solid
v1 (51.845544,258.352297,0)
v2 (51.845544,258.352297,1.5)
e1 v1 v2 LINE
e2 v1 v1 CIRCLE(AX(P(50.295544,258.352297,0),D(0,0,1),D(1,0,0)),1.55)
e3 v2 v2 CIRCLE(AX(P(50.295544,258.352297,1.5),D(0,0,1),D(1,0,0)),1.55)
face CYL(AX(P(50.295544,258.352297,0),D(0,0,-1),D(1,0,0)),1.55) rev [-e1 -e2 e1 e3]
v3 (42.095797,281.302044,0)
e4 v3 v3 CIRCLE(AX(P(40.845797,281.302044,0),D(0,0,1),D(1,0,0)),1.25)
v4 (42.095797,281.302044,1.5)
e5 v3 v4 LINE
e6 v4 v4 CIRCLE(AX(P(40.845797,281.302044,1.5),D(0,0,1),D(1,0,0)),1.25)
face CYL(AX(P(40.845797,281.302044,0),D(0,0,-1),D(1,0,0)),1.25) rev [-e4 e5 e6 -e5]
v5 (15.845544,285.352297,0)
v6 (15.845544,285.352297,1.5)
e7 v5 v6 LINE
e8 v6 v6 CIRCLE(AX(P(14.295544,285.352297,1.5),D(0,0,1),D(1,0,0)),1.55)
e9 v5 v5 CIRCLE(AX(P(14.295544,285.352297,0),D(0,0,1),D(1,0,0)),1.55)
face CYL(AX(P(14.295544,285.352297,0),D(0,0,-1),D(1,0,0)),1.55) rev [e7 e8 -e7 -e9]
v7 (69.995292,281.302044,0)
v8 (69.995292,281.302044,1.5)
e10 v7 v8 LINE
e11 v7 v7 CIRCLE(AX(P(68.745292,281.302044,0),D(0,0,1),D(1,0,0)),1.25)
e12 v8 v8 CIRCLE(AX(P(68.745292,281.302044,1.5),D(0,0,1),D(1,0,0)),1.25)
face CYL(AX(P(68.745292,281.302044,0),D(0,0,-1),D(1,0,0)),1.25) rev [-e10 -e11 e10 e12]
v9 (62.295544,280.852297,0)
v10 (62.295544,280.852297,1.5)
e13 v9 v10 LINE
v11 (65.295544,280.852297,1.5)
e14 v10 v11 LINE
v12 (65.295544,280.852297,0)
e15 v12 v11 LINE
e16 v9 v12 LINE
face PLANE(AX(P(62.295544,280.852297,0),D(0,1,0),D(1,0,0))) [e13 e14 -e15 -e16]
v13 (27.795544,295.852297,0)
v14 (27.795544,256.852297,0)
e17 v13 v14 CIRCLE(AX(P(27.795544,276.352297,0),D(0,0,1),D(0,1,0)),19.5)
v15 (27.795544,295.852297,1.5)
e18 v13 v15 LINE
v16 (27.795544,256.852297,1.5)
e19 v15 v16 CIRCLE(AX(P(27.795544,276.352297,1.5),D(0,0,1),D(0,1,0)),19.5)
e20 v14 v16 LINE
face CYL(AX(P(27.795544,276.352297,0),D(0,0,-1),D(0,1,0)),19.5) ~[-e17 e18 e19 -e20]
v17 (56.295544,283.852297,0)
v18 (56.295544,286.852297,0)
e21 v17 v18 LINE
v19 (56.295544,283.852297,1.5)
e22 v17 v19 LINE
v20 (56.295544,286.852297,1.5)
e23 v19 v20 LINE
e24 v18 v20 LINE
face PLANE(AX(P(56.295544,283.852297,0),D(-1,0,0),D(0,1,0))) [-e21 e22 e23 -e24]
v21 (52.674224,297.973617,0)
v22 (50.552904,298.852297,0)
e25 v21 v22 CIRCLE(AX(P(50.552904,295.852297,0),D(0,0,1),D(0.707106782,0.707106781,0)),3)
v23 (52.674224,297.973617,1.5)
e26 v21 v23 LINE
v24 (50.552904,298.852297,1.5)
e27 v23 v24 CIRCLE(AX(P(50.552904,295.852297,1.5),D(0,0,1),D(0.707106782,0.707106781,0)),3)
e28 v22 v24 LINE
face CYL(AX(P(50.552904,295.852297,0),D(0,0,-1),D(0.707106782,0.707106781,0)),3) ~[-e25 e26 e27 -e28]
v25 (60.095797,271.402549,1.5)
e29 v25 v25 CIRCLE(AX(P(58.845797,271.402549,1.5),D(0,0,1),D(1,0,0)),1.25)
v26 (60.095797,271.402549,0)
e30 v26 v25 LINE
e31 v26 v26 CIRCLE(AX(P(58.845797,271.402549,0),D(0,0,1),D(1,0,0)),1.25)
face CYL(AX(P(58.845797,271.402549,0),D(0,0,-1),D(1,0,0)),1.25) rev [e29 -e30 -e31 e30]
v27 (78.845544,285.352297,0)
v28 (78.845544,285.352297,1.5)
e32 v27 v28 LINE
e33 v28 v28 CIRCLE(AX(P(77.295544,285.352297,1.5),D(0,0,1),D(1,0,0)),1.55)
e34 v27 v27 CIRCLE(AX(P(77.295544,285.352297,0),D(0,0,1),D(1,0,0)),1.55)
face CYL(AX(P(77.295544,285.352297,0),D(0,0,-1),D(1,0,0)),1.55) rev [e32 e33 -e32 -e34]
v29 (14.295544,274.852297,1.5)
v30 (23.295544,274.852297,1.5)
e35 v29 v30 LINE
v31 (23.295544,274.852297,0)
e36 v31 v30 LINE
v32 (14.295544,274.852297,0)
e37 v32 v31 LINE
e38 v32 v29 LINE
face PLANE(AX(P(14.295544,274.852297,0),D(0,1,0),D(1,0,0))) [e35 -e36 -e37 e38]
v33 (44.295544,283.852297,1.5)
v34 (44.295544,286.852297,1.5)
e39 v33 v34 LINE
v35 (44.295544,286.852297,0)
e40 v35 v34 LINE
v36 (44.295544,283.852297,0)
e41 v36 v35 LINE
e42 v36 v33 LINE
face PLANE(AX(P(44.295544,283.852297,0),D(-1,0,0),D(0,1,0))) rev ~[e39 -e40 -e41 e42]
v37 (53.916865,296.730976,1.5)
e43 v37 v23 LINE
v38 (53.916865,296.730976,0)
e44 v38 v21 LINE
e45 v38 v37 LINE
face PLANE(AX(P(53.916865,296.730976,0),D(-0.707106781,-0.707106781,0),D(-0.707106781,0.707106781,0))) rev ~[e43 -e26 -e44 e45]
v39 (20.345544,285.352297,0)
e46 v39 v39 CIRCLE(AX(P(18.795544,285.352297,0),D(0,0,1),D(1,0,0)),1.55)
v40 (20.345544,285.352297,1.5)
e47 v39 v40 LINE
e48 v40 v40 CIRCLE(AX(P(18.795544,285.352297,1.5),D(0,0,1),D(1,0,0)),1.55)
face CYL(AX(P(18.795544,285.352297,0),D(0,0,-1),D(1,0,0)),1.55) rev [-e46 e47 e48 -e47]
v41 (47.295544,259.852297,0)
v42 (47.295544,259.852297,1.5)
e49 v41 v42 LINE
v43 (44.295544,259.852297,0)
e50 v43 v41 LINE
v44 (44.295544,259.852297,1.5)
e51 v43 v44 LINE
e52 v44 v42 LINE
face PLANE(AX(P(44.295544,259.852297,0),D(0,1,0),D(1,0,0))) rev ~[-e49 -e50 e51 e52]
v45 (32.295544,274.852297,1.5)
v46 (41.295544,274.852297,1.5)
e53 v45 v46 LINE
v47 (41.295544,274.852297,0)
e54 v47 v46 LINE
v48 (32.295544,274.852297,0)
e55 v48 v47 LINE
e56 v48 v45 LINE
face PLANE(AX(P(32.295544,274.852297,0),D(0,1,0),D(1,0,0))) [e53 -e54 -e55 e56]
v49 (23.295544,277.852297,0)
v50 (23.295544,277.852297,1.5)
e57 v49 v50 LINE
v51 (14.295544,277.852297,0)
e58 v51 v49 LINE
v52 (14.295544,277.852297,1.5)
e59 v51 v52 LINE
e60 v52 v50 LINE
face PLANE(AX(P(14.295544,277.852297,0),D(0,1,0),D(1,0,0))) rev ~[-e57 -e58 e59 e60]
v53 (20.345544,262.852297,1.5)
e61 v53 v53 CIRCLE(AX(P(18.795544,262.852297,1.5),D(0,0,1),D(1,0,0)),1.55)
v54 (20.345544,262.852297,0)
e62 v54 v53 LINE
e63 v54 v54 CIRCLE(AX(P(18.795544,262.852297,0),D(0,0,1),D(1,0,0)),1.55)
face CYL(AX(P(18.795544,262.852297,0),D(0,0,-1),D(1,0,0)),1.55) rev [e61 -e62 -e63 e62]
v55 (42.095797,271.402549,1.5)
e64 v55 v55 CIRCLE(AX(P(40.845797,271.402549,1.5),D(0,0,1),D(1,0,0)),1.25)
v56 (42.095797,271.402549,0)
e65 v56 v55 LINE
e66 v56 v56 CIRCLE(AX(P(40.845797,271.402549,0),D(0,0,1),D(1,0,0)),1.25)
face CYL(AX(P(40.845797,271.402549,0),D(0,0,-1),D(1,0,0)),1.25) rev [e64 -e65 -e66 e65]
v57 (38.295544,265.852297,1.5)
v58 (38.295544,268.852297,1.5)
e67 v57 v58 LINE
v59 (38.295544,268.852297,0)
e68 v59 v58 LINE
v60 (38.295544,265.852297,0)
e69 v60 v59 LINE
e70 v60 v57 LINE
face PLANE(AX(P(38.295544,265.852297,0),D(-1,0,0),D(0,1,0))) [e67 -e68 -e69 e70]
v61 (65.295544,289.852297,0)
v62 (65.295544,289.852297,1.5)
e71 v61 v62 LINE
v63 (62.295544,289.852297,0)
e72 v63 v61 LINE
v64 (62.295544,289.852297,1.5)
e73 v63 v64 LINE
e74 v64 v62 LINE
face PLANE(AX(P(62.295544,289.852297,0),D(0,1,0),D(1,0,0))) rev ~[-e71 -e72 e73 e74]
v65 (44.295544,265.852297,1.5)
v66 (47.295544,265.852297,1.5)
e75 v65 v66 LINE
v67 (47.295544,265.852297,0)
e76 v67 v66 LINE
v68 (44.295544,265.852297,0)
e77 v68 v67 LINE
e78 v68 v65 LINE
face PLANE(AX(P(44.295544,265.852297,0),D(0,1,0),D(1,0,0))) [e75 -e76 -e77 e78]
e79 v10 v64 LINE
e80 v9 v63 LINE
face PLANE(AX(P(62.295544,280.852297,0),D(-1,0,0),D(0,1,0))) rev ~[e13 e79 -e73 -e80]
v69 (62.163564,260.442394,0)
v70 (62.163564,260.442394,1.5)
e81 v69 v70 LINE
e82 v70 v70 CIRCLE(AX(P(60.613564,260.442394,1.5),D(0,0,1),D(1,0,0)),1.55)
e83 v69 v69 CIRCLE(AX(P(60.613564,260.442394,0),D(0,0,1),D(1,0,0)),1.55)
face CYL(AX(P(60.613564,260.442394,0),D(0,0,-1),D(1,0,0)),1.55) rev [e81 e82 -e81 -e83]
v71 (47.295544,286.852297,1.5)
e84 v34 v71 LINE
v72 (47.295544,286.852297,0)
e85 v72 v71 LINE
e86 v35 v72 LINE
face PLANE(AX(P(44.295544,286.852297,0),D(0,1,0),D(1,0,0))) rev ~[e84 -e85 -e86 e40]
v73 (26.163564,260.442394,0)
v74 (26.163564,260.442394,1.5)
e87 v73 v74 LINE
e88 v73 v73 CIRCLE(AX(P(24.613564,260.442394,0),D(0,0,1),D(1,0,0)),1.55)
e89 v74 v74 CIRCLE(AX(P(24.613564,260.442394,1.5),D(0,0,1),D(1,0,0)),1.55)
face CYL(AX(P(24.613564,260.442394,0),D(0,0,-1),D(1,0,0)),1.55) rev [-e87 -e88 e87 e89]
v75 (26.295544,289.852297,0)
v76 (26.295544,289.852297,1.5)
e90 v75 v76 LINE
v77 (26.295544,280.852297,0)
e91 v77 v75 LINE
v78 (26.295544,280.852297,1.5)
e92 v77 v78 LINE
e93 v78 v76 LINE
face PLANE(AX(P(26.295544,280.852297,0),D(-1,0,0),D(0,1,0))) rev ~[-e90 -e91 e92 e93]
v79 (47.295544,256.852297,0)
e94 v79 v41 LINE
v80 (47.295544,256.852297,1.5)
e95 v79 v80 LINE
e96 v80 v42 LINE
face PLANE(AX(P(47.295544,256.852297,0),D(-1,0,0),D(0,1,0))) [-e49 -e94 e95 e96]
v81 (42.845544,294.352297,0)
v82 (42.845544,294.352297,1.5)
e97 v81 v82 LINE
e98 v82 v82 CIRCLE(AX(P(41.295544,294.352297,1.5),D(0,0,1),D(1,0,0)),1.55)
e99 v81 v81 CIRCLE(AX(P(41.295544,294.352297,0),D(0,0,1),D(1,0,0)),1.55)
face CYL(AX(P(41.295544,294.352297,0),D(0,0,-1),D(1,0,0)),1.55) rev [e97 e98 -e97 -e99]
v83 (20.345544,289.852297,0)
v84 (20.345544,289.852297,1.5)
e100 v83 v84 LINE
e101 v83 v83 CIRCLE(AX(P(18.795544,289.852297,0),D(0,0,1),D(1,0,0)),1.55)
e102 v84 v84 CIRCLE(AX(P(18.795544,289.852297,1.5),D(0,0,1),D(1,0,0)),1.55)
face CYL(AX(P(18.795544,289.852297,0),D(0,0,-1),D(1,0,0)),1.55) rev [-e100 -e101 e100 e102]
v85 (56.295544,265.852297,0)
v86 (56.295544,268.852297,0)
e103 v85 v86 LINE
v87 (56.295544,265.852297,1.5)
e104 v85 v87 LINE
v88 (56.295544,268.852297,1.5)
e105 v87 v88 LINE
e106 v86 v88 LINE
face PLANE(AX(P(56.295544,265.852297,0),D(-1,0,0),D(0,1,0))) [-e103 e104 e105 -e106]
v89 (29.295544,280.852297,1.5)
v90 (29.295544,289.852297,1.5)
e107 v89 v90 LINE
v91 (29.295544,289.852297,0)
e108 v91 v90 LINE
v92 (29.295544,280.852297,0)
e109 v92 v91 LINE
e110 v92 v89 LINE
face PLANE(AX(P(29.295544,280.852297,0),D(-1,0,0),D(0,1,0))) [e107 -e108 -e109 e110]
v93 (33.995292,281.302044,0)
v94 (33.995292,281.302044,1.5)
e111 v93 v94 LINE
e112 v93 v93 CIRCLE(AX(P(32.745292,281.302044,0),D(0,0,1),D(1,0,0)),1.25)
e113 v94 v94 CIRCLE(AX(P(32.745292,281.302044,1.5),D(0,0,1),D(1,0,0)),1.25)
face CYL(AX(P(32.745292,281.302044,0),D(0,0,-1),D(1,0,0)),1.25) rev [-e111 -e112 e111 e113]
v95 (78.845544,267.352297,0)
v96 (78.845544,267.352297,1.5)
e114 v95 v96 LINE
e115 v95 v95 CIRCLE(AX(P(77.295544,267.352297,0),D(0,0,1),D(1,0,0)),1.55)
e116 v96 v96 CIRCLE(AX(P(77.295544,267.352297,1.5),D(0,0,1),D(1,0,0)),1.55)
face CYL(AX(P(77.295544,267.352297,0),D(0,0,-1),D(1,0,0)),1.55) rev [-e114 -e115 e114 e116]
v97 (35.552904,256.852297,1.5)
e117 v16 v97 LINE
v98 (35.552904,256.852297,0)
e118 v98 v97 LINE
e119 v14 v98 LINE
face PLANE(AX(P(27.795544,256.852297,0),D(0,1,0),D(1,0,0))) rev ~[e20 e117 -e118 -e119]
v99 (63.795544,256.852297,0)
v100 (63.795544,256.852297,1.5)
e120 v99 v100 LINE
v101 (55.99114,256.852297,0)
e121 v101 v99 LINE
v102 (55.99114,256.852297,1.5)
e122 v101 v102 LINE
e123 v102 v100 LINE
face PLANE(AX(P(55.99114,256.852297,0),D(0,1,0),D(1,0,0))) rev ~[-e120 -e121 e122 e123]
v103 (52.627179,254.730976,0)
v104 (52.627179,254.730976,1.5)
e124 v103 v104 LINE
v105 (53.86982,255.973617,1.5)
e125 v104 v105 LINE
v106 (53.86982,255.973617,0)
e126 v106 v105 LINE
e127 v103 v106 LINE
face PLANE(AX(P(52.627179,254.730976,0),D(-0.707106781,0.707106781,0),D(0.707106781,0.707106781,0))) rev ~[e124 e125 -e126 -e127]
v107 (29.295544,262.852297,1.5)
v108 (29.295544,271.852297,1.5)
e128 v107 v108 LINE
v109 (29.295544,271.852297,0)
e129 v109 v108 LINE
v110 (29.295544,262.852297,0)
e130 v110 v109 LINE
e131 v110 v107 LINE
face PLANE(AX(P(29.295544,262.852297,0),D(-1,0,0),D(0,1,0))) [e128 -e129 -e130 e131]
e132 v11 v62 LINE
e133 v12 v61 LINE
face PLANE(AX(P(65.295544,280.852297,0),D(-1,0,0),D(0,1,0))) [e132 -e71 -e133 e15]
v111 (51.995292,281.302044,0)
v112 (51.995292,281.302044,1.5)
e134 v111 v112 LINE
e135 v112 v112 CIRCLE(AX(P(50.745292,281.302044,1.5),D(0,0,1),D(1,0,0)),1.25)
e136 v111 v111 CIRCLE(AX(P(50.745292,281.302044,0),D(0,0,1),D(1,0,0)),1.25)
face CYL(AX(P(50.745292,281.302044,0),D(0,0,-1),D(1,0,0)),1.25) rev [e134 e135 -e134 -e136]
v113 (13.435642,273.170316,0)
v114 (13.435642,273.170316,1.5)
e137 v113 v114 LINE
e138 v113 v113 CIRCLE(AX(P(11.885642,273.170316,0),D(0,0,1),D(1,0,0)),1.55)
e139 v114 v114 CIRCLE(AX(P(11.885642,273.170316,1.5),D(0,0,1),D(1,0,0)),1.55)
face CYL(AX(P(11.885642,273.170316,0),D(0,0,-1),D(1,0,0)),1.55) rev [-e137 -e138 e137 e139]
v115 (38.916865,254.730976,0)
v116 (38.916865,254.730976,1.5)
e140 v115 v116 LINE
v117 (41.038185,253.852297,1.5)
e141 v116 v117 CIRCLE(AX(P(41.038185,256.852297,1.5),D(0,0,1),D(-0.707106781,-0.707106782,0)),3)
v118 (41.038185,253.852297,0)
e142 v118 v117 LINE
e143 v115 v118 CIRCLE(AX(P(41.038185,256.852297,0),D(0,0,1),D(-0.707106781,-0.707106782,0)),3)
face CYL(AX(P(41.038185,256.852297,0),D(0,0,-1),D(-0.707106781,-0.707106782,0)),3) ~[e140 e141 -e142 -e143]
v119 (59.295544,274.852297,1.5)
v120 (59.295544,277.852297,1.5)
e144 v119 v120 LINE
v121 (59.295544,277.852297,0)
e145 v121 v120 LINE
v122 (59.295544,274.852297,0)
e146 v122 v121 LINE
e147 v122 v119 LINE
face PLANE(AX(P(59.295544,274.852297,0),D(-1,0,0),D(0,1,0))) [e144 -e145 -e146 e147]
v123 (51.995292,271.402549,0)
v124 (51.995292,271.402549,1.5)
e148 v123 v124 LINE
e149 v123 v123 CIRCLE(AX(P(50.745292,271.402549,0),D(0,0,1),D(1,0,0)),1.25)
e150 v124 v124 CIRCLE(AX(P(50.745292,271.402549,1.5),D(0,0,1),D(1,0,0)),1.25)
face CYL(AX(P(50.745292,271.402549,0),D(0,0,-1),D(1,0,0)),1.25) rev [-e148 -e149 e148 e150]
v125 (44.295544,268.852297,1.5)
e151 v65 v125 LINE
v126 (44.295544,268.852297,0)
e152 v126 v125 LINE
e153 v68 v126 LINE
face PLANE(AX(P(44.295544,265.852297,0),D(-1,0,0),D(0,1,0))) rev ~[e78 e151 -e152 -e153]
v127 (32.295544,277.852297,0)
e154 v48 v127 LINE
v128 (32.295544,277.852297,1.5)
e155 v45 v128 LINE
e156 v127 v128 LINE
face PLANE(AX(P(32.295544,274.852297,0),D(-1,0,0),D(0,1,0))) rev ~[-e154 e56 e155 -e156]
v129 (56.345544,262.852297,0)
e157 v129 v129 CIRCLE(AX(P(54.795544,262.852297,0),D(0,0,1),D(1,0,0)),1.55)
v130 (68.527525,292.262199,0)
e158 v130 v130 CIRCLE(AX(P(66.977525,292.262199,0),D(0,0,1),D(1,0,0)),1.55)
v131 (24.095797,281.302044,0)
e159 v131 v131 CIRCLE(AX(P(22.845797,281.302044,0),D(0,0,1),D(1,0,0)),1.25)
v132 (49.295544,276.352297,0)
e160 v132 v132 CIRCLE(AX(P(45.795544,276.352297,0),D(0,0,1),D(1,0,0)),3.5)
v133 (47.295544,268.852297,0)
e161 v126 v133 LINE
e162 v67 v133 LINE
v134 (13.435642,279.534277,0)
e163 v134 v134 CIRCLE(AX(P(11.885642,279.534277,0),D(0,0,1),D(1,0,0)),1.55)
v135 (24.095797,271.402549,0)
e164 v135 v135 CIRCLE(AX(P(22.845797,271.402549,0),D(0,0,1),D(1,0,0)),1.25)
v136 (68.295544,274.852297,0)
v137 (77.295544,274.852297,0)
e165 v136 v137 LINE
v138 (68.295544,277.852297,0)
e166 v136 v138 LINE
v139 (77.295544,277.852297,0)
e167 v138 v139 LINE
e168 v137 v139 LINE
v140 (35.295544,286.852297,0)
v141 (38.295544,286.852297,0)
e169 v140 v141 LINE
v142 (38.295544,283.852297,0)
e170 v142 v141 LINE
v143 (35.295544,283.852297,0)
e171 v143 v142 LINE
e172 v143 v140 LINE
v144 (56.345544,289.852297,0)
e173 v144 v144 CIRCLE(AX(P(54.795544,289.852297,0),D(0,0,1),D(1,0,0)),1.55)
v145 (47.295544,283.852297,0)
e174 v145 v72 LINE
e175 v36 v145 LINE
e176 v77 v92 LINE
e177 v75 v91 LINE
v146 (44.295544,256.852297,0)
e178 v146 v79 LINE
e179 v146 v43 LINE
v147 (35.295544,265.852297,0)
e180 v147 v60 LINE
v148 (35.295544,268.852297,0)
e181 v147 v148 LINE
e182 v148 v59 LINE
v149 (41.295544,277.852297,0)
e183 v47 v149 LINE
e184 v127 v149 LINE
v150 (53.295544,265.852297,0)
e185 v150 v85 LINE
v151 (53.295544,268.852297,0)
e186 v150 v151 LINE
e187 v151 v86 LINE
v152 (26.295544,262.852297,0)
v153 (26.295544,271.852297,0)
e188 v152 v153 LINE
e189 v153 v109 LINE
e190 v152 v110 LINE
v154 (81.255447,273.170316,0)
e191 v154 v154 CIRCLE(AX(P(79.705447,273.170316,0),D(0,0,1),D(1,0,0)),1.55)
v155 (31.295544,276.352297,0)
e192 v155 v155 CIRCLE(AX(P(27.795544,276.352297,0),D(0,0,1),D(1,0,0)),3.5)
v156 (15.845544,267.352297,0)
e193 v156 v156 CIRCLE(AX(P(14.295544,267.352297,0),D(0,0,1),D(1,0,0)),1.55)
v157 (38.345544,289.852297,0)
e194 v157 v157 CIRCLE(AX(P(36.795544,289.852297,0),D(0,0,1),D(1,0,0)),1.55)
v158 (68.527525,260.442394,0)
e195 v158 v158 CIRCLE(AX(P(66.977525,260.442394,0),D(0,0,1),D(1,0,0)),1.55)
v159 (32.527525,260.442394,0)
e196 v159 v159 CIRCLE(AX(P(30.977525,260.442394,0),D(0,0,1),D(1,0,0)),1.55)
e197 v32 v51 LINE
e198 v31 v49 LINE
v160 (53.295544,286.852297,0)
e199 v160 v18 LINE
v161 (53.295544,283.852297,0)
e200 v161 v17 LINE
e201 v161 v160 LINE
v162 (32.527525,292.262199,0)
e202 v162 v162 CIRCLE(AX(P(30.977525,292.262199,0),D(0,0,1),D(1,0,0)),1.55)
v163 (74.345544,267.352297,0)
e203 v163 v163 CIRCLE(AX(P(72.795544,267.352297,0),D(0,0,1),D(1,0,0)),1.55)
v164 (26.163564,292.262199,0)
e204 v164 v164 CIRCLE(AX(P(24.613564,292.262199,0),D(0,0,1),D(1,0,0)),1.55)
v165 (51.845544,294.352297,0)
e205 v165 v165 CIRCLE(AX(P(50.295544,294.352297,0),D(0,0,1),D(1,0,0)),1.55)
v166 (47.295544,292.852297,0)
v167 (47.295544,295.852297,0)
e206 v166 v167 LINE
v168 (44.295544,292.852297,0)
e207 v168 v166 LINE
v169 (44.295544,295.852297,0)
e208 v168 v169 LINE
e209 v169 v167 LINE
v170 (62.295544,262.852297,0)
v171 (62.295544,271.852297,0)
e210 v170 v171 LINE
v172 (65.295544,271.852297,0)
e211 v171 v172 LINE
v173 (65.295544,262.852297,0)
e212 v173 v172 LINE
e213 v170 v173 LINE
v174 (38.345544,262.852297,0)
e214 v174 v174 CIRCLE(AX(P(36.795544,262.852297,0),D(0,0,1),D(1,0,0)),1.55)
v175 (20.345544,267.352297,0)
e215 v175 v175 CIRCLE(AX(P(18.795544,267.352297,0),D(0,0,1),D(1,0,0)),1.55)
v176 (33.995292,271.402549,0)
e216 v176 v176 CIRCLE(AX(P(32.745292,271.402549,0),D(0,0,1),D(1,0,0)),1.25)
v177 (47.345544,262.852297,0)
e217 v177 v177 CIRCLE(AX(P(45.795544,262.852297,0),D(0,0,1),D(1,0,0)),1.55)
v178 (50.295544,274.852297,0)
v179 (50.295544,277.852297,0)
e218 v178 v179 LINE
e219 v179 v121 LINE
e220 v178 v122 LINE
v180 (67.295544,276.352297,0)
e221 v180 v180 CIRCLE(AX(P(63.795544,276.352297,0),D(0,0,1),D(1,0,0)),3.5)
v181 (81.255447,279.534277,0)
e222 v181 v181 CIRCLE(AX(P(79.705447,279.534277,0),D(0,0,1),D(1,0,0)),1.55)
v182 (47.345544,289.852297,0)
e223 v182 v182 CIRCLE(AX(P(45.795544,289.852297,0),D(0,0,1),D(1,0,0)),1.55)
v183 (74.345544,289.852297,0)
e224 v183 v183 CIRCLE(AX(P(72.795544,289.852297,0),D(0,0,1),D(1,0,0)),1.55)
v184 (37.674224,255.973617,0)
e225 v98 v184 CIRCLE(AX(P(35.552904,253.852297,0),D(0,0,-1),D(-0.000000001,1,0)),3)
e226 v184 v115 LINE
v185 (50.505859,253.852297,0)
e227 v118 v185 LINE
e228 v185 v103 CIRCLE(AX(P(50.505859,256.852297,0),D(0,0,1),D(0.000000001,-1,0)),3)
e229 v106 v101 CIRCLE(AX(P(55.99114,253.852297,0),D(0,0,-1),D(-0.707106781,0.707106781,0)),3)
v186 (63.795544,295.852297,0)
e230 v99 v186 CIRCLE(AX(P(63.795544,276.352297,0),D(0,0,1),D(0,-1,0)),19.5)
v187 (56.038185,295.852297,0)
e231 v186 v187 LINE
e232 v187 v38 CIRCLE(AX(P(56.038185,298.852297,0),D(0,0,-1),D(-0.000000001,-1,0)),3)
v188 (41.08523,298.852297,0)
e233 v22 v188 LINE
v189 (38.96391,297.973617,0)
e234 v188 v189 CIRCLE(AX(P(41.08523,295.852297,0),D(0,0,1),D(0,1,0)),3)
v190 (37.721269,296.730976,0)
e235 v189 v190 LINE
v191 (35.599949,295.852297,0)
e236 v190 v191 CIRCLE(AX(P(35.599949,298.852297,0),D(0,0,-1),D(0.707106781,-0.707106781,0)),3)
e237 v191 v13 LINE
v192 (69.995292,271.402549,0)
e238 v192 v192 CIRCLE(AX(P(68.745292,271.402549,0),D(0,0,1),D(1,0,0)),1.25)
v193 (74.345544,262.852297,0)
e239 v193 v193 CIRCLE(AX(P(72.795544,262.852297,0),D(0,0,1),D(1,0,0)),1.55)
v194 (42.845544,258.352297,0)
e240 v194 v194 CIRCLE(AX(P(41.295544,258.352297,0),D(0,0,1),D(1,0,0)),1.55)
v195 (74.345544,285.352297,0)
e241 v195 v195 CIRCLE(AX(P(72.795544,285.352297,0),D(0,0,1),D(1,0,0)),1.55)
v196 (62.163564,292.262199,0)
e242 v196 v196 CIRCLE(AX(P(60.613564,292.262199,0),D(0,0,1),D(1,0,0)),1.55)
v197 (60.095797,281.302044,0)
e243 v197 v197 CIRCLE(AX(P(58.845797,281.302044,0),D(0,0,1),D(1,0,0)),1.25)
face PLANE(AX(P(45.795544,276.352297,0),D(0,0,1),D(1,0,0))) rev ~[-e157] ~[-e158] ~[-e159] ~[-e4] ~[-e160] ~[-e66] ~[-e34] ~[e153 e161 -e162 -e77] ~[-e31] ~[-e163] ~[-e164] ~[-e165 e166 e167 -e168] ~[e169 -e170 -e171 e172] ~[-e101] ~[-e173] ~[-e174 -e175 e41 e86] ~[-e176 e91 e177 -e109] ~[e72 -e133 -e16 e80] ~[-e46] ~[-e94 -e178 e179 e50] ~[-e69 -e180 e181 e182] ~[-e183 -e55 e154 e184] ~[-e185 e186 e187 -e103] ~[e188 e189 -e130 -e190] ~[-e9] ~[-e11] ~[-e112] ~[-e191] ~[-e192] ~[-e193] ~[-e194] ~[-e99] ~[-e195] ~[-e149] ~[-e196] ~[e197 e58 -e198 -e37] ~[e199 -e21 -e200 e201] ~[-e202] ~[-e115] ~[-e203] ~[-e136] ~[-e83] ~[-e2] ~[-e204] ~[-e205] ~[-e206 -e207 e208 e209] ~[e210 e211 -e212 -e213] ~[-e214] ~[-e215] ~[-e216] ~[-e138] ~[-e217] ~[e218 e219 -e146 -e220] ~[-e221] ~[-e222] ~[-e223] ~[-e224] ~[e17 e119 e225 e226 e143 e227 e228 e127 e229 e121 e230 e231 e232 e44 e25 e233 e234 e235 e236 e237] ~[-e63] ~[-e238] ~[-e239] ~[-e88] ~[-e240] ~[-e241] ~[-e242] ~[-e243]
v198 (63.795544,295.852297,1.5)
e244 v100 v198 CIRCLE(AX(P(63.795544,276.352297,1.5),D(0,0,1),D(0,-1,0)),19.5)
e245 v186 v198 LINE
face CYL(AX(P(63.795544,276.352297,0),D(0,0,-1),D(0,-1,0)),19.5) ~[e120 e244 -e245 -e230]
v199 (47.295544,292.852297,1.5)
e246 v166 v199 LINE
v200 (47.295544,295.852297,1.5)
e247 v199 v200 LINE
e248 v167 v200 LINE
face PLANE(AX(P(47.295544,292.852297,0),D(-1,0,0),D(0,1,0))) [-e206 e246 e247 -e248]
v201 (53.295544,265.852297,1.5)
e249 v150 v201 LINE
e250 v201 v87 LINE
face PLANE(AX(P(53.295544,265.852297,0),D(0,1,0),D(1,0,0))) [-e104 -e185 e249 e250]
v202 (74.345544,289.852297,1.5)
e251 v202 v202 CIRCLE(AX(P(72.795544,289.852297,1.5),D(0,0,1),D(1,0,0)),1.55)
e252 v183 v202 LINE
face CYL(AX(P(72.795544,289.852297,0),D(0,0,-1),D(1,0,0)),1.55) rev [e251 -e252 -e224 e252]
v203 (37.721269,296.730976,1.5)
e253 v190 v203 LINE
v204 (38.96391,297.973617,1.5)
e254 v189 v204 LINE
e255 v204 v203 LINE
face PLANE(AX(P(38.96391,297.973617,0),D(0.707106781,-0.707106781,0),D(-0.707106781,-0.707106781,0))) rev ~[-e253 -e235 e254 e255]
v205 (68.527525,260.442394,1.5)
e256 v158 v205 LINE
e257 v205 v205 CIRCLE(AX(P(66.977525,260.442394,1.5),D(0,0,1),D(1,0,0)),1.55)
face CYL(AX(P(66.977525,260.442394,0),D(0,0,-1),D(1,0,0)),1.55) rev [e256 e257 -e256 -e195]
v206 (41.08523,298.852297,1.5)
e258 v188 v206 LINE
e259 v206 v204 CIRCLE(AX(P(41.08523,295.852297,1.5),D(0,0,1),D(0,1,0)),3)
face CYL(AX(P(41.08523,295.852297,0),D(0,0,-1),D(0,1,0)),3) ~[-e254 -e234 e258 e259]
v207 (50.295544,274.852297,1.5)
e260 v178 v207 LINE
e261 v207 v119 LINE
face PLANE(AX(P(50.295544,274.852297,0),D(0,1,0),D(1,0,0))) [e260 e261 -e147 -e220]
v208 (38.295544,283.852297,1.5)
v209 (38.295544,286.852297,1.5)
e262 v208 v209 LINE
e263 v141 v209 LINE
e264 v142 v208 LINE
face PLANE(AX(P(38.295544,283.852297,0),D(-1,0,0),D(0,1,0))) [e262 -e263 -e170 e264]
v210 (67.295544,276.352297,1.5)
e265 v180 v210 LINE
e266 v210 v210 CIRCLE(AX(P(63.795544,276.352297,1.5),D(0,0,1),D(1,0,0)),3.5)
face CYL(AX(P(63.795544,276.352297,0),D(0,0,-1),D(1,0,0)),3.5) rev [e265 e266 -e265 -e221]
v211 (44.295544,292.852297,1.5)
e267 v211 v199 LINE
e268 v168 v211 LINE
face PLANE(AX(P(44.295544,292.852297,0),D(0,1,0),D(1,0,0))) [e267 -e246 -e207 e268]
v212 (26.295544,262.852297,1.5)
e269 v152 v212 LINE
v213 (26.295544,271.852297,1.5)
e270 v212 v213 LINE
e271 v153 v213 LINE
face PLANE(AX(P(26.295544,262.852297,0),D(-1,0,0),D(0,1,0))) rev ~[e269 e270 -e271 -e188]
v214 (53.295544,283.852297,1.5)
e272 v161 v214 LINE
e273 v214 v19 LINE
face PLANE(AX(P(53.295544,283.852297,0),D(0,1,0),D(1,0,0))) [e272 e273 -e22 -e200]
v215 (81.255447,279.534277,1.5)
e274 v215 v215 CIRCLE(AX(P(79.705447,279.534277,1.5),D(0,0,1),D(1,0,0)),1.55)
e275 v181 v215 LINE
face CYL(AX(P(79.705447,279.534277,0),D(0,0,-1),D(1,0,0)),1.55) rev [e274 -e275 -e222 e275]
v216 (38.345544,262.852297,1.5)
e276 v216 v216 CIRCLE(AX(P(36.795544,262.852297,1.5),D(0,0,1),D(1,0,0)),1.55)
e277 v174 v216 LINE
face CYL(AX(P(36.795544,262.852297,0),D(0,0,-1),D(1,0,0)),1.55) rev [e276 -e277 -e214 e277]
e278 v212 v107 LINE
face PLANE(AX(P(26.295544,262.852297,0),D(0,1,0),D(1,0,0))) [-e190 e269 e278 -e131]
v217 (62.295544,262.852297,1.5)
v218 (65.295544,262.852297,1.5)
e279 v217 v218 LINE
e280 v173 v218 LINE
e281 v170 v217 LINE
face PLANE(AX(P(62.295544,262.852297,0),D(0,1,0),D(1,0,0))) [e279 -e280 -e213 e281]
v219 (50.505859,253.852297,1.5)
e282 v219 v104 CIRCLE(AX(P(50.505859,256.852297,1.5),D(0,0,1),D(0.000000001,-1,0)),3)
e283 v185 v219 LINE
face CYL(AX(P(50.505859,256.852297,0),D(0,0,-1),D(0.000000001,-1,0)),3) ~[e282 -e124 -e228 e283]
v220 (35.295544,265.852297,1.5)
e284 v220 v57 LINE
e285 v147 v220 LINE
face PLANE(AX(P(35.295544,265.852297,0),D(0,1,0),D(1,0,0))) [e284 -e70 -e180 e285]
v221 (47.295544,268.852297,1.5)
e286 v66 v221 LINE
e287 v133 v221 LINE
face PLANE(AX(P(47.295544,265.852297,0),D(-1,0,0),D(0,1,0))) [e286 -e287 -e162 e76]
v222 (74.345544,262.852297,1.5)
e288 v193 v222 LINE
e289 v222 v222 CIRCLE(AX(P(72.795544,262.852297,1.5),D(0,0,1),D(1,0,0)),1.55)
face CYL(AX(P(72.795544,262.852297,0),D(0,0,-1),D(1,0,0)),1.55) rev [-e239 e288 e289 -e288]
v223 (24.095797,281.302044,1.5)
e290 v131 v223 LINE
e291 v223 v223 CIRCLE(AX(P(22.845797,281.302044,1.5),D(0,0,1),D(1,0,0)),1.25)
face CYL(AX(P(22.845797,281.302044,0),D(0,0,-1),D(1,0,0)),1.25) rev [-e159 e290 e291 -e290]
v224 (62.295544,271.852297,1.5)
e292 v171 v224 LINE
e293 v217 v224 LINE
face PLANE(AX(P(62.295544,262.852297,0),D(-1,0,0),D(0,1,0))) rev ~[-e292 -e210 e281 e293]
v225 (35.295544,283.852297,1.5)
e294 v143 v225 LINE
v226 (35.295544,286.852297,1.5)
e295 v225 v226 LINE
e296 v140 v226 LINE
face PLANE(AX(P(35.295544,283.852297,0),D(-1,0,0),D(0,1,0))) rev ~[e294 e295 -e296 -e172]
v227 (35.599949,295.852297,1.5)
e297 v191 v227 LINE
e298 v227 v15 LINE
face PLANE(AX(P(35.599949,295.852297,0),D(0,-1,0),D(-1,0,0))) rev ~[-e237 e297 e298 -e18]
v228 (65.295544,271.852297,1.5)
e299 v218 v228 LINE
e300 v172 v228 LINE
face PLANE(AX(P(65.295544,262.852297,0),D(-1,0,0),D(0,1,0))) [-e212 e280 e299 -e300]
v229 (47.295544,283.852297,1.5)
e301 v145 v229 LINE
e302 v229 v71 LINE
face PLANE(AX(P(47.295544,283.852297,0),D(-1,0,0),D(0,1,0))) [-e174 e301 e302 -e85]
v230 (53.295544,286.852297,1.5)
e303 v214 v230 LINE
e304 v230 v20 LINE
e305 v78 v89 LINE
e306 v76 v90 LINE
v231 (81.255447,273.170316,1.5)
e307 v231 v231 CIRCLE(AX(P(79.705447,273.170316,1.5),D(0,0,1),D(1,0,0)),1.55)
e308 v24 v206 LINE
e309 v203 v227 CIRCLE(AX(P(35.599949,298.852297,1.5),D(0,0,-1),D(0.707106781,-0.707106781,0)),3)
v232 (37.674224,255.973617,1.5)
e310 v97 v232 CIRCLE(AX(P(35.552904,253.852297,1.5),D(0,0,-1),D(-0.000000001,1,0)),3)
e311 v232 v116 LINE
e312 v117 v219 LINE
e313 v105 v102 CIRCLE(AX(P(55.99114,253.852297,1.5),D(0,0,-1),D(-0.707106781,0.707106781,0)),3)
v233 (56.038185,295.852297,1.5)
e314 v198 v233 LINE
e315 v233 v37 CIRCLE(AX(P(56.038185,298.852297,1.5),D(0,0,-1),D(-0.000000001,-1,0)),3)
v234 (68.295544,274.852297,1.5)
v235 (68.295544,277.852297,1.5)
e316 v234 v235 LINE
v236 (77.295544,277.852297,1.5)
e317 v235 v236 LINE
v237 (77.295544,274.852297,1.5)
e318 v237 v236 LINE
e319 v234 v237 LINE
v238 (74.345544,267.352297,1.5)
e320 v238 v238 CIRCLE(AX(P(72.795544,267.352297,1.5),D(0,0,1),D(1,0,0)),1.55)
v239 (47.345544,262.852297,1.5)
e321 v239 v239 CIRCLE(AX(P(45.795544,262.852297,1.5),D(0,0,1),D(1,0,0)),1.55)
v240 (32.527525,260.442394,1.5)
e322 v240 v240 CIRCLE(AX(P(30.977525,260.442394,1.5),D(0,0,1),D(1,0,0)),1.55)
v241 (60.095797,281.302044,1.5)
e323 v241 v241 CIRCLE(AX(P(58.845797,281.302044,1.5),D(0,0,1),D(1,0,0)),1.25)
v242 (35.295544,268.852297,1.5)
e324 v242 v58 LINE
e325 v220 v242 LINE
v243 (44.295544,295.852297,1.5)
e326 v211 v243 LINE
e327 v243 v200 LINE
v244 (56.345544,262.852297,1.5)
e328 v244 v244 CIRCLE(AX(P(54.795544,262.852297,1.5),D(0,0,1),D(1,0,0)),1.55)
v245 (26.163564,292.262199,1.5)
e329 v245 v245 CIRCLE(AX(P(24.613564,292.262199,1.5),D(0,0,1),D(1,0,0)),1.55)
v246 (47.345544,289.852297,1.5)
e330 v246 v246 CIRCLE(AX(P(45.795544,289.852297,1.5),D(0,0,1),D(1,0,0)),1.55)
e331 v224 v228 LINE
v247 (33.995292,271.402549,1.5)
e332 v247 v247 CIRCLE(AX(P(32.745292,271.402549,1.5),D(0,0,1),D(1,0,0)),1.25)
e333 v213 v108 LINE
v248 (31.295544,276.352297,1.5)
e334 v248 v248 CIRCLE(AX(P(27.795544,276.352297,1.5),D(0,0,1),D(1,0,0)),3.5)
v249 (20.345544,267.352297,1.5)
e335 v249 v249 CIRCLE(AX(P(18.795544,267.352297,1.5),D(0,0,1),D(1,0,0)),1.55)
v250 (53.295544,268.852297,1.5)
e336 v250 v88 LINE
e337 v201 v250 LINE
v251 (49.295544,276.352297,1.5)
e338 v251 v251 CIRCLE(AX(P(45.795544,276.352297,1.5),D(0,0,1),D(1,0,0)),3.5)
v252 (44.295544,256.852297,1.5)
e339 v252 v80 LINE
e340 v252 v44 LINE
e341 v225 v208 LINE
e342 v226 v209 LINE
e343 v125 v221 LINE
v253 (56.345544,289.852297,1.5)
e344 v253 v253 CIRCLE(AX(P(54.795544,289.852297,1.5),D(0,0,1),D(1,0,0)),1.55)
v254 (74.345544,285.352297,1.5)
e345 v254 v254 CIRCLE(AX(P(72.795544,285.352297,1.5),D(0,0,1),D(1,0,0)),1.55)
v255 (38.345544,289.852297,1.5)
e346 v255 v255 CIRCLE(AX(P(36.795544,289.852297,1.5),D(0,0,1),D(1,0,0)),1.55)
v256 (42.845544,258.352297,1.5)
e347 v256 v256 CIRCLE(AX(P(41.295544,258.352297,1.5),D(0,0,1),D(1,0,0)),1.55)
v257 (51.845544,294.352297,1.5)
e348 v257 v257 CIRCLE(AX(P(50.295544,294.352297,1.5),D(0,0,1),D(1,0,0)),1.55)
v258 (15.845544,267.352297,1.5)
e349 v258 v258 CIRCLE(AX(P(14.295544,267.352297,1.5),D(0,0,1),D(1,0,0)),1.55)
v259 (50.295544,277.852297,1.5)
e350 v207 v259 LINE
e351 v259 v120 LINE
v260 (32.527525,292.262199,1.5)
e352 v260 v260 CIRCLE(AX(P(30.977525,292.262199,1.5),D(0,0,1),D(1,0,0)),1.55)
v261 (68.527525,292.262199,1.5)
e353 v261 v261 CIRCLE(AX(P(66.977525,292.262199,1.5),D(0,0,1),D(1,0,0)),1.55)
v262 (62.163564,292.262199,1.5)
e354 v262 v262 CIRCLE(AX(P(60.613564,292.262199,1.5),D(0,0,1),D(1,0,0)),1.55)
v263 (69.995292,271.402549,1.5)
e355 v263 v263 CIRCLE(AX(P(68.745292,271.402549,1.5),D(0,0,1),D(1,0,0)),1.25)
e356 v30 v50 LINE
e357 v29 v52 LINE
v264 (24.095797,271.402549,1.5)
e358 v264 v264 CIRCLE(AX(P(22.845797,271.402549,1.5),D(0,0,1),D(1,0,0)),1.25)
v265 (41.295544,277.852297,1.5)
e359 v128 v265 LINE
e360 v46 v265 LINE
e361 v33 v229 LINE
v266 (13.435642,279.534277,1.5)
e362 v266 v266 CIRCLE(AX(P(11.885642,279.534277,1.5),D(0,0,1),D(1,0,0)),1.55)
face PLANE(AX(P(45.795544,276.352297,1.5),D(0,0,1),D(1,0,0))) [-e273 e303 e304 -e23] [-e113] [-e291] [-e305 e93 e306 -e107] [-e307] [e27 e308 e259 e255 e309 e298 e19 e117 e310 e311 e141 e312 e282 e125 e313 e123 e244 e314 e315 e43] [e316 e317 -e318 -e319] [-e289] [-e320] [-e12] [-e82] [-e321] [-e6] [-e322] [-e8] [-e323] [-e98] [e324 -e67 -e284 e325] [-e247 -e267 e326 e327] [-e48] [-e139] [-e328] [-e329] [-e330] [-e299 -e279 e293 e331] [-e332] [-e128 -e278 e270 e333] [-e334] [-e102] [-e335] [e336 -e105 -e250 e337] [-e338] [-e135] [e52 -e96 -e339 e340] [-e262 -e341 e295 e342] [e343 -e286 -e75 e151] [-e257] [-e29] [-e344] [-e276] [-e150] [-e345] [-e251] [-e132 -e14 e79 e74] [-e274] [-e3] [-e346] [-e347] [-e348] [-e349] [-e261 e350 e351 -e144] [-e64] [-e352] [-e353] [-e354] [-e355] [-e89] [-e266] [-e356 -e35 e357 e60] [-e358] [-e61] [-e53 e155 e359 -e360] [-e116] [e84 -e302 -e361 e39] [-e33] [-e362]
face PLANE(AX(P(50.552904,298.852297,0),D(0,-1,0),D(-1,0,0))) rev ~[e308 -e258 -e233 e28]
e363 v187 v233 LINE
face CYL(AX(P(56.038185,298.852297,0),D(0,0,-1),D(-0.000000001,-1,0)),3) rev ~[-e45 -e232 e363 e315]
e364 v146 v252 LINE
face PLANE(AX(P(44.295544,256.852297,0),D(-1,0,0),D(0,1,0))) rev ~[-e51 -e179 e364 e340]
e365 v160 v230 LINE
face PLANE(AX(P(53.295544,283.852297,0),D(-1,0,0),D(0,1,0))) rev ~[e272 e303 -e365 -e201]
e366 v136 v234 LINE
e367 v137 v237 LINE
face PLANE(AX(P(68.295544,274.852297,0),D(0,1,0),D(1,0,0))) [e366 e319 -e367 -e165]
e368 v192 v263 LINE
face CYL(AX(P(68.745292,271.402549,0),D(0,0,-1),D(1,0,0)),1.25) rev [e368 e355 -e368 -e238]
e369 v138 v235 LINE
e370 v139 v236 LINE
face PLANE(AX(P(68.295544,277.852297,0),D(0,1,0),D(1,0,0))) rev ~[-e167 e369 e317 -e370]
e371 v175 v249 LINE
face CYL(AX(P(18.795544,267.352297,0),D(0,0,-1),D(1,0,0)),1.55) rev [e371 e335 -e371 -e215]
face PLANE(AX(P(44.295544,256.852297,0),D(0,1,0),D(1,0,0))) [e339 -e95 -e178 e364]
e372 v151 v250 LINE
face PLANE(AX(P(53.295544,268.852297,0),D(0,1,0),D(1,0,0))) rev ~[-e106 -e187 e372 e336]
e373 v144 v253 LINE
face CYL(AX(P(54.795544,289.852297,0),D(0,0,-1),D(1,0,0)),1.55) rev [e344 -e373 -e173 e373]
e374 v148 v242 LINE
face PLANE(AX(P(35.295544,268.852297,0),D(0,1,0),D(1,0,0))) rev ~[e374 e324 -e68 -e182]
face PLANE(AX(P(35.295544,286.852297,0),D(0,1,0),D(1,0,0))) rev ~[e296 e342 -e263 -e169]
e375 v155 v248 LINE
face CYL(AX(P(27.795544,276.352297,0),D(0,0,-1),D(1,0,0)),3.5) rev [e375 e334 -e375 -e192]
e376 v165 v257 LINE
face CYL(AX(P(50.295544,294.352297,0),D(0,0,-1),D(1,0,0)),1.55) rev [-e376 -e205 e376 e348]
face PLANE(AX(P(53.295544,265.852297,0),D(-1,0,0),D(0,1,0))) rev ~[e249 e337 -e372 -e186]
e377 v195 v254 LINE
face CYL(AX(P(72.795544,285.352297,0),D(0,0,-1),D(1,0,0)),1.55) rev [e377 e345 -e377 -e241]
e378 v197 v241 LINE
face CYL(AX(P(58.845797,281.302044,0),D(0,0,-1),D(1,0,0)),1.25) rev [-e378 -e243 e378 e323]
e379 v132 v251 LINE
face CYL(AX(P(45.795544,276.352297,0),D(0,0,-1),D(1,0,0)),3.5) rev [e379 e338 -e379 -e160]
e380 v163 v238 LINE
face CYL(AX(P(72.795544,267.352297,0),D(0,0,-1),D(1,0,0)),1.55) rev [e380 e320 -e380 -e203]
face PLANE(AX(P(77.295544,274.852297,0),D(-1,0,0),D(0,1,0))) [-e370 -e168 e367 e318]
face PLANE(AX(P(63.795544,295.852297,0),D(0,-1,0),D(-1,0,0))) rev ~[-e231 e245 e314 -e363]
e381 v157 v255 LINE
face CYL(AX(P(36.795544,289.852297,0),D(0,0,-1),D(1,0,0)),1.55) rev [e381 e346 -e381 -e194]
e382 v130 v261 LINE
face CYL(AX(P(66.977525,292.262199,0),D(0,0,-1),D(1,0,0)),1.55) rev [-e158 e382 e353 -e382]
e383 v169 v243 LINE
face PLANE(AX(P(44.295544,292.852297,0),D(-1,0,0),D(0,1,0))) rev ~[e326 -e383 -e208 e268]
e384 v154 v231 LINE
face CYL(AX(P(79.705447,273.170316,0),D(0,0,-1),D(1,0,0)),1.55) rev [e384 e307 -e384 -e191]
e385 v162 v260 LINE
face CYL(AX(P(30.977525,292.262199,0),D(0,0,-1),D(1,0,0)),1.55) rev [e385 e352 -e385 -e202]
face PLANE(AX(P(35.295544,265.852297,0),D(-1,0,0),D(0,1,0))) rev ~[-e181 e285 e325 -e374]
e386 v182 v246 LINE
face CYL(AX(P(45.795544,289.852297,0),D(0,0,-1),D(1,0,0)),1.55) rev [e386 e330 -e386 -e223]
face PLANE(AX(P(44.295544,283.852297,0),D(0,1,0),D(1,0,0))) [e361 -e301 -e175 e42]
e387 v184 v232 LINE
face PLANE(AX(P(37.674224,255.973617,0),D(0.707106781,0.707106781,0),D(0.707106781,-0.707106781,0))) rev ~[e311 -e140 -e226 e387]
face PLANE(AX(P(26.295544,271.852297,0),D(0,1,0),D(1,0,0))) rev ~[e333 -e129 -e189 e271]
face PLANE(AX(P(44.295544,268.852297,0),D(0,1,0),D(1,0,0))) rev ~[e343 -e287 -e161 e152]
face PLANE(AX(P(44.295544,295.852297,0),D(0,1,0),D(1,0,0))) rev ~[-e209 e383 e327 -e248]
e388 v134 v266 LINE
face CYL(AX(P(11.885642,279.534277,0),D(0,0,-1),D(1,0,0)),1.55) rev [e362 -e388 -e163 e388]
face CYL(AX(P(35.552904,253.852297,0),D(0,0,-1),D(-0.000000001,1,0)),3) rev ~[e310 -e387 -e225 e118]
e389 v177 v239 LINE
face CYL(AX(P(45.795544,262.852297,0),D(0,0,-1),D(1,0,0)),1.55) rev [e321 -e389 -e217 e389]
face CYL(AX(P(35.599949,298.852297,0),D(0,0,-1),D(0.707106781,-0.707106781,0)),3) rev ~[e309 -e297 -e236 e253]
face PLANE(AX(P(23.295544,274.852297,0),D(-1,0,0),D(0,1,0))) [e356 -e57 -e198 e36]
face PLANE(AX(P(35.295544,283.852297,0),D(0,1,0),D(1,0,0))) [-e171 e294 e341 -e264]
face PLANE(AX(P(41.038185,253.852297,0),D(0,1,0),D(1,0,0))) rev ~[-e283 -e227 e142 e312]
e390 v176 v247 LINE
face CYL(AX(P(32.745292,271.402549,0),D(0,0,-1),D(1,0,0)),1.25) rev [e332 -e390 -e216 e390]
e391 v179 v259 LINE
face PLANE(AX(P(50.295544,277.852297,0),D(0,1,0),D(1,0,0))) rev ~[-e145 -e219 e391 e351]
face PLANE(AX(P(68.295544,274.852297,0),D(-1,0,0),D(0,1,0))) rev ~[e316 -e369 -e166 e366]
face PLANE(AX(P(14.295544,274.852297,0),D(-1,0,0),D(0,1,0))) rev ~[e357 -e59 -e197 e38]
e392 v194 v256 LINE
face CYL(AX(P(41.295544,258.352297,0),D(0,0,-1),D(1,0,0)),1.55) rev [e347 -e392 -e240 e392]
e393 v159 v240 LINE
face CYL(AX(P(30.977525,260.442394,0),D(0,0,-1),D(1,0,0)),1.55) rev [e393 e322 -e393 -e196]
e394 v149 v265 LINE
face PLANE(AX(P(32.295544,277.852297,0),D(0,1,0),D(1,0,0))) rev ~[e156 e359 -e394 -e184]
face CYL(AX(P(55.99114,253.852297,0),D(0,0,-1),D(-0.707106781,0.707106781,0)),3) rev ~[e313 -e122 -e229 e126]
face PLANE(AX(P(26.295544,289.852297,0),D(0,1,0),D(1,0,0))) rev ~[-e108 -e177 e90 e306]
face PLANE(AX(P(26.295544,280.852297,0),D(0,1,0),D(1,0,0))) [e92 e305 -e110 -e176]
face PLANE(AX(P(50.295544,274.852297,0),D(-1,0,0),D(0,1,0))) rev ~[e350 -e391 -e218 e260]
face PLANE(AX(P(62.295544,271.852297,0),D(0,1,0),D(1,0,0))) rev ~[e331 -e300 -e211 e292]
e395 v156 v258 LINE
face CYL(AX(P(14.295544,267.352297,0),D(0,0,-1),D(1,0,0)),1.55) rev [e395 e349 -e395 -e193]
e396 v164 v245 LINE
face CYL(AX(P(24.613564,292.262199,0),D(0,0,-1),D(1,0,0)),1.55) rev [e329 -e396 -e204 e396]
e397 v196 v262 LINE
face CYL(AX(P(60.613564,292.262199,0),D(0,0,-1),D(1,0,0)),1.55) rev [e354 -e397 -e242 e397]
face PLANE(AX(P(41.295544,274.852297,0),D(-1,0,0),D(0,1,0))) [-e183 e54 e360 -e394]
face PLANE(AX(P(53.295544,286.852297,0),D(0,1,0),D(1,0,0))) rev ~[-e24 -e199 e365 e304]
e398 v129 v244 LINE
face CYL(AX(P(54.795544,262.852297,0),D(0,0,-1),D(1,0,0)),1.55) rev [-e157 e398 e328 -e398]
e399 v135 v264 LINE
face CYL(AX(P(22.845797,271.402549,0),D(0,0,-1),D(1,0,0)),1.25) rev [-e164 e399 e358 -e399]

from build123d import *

# Parameters (mm, degrees)
MODEL_R                 = 1.25
MODEL_R_2               = 3.5
MODEL_R_3               = 1.55
MODEL_W                 = 9
MODEL_H                 = 3
MODEL_W_2               = 3
MODEL_H_2               = 9
SALIENTE_EXTRUIR1_DEPTH = 1.5


with BuildPart() as part:
    # Model → Saliente-Extruir1 (new body)
    with BuildSketch(Plane.XY):
        with BuildLine():
            Line((63.795544402, 295.852296768), (56.038185089, 295.852296768))
            ThreePointArc((56.038185089, 295.852296768), (54.890134792, 296.080658171), (53.916864745, 296.730976425))
            Line((53.916864745, 296.730976425), (52.674224058, 297.973617112))
            ThreePointArc((52.674224058, 297.973617112), (51.700954012, 298.623935366), (50.552903715, 298.852296768))
            Line((50.552903715, 298.852296768), (41.085229894, 298.852296768))
            ThreePointArc((41.085229894, 298.852296768), (39.937179597, 298.623935366), (38.96390955, 297.973617112))
            Line((38.96390955, 297.973617112), (37.721268863, 296.730976425))
            ThreePointArc((37.721268863, 296.730976425), (36.747998817, 296.080658171), (35.59994852, 295.852296768))
            Line((35.59994852, 295.852296768), (27.795544402, 295.852296768))
            ThreePointArc((27.795544402, 295.852296768), (8.295544402, 276.352296768), (27.795544402, 256.852296768))
            Line((27.795544402, 256.852296768), (35.552903715, 256.852296768))
            ThreePointArc((35.552903715, 256.852296768), (36.700954012, 256.623935366), (37.674224058, 255.973617112))
            Line((37.674224058, 255.973617112), (38.916864745, 254.730976425))
            ThreePointArc((38.916864745, 254.730976425), (39.890134792, 254.080658171), (41.038185089, 253.852296768))
            Line((41.038185089, 253.852296768), (50.50585891, 253.852296768))
            ThreePointArc((50.50585891, 253.852296768), (51.653909207, 254.080658171), (52.627179253, 254.730976425))
            Line((52.627179253, 254.730976425), (53.86981994, 255.973617112))
            ThreePointArc((53.86981994, 255.973617112), (54.843089987, 256.623935366), (55.991140284, 256.852296768))
            Line((55.991140284, 256.852296768), (63.795544402, 256.852296768))
            ThreePointArc((63.795544402, 256.852296768), (83.295544402, 276.352296768), (63.795544402, 295.852296768))
        make_face()
        with Locations((22.845796934, 281.302044237)):
            Circle(MODEL_R, mode=Mode.SUBTRACT)
        with Locations((22.845796934, 271.4025493)):
            Circle(MODEL_R, mode=Mode.SUBTRACT)
        with Locations((32.74529187, 271.4025493)):
            Circle(MODEL_R, mode=Mode.SUBTRACT)
        with Locations((32.74529187, 281.302044237)):
            Circle(MODEL_R, mode=Mode.SUBTRACT)
        with Locations((27.795544402, 276.352296768)):
            Circle(MODEL_R_2, mode=Mode.SUBTRACT)
        with Locations((18.795544402, 289.852296768)):
            Circle(MODEL_R_3, mode=Mode.SUBTRACT)
        with Locations((18.795544402, 262.852296768)):
            Circle(MODEL_R_3, mode=Mode.SUBTRACT)
        with Locations((36.795544402, 289.852296768)):
            Circle(MODEL_R_3, mode=Mode.SUBTRACT)
        with Locations((36.795544402, 262.852296768)):
            Circle(MODEL_R_3, mode=Mode.SUBTRACT)
        with Locations((14.295544402, 267.352296768)):
            Circle(MODEL_R_3, mode=Mode.SUBTRACT)
        with Locations((14.295544402, 285.352296768)):
            Circle(MODEL_R_3, mode=Mode.SUBTRACT)
        with Locations((30.977524917, 292.262199345)):
            Circle(MODEL_R_3, mode=Mode.SUBTRACT)
        with Locations((24.613563886, 260.442394192)):
            Circle(MODEL_R_3, mode=Mode.SUBTRACT)
        with Locations((30.977524917, 260.442394192)):
            Circle(MODEL_R_3, mode=Mode.SUBTRACT)
        with Locations((24.613563886, 292.262199345)):
            Circle(MODEL_R_3, mode=Mode.SUBTRACT)
        with Locations((11.885641825, 279.534277284)):
            Circle(MODEL_R_3, mode=Mode.SUBTRACT)
        with Locations((11.885641825, 273.170316253)):
            Circle(MODEL_R_3, mode=Mode.SUBTRACT)
        with Locations((58.845796933, 281.302044237)):
            Circle(MODEL_R, mode=Mode.SUBTRACT)
        with Locations((58.845796933, 271.4025493)):
            Circle(MODEL_R, mode=Mode.SUBTRACT)
        with Locations((68.74529187, 271.4025493)):
            Circle(MODEL_R, mode=Mode.SUBTRACT)
        with Locations((68.74529187, 281.302044237)):
            Circle(MODEL_R, mode=Mode.SUBTRACT)
        with Locations((54.795544402, 289.852296768)):
            Circle(MODEL_R_3, mode=Mode.SUBTRACT)
        with Locations((54.795544402, 262.852296768)):
            Circle(MODEL_R_3, mode=Mode.SUBTRACT)
        with Locations((72.795544402, 289.852296768)):
            Circle(MODEL_R_3, mode=Mode.SUBTRACT)
        with Locations((72.795544402, 262.852296768)):
            Circle(MODEL_R_3, mode=Mode.SUBTRACT)
        with Locations((77.295544402, 267.352296768)):
            Circle(MODEL_R_3, mode=Mode.SUBTRACT)
        with Locations((77.295544402, 285.352296768)):
            Circle(MODEL_R_3, mode=Mode.SUBTRACT)
        with Locations((66.977524917, 292.262199345)):
            Circle(MODEL_R_3, mode=Mode.SUBTRACT)
        with Locations((60.613563886, 260.442394192)):
            Circle(MODEL_R_3, mode=Mode.SUBTRACT)
        with Locations((66.977524917, 260.442394192)):
            Circle(MODEL_R_3, mode=Mode.SUBTRACT)
        with Locations((60.613563886, 292.262199345)):
            Circle(MODEL_R_3, mode=Mode.SUBTRACT)
        with Locations((79.705446979, 273.170316253)):
            Circle(MODEL_R_3, mode=Mode.SUBTRACT)
        with Locations((79.705446979, 279.534277284)):
            Circle(MODEL_R_3, mode=Mode.SUBTRACT)
        with Locations((63.795544402, 276.352296768)):
            Circle(MODEL_R_2, mode=Mode.SUBTRACT)
        with Locations((18.795544402, 285.352296768)):
            Circle(MODEL_R_3, mode=Mode.SUBTRACT)
        with Locations((18.795544402, 267.352296768)):
            Circle(MODEL_R_3, mode=Mode.SUBTRACT)
        with Locations((72.795544402, 285.352296768)):
            Circle(MODEL_R_3, mode=Mode.SUBTRACT)
        with Locations((72.795544402, 267.352296768)):
            Circle(MODEL_R_3, mode=Mode.SUBTRACT)
        with Locations((40.845796933, 281.302044237)):
            Circle(MODEL_R, mode=Mode.SUBTRACT)
        with Locations((40.845796933, 271.4025493)):
            Circle(MODEL_R, mode=Mode.SUBTRACT)
        with Locations((50.74529187, 271.4025493)):
            Circle(MODEL_R, mode=Mode.SUBTRACT)
        with Locations((50.74529187, 281.302044237)):
            Circle(MODEL_R, mode=Mode.SUBTRACT)
        with Locations((45.795544402, 276.352296768)):
            Circle(MODEL_R_2, mode=Mode.SUBTRACT)
        with Locations((41.295544402, 294.352296768)):
            Circle(MODEL_R_3, mode=Mode.SUBTRACT)
        with Locations((50.295544402, 294.352296768)):
            Circle(MODEL_R_3, mode=Mode.SUBTRACT)
        with Locations((45.795544402, 289.852296768)):
            Circle(MODEL_R_3, mode=Mode.SUBTRACT)
        with Locations((41.295544402, 258.352296768)):
            Circle(MODEL_R_3, mode=Mode.SUBTRACT)
        with Locations((50.295544402, 258.352296768)):
            Circle(MODEL_R_3, mode=Mode.SUBTRACT)
        with Locations((45.795544402, 262.852296768)):
            Circle(MODEL_R_3, mode=Mode.SUBTRACT)
        with Locations((36.795544402, 276.352296768)):
            Rectangle(MODEL_W, MODEL_H, mode=Mode.SUBTRACT)
        with Locations((27.795544402, 285.352296768)):
            Rectangle(MODEL_W_2, MODEL_H_2, mode=Mode.SUBTRACT)
        with Locations((18.795544402, 276.352296768)):
            Rectangle(MODEL_W, MODEL_H, mode=Mode.SUBTRACT)
        with Locations((27.795544402, 267.352296768)):
            Rectangle(MODEL_W_2, MODEL_H_2, mode=Mode.SUBTRACT)
        with Locations((72.795544402, 276.352296768)):
            Rectangle(MODEL_W, MODEL_H, mode=Mode.SUBTRACT)
        with Locations((63.795544402, 285.352296768)):
            Rectangle(MODEL_W_2, MODEL_H_2, mode=Mode.SUBTRACT)
        with Locations((54.795544402, 276.352296768)):
            Rectangle(MODEL_W, MODEL_H, mode=Mode.SUBTRACT)
        with Locations((63.795544402, 267.352296768)):
            Rectangle(MODEL_W_2, MODEL_H_2, mode=Mode.SUBTRACT)
        with Locations((36.795544402, 285.352296768)):
            Rectangle(MODEL_W_2, MODEL_H, mode=Mode.SUBTRACT)
        with Locations((45.795544402, 285.352296768)):
            Rectangle(MODEL_W_2, MODEL_H, mode=Mode.SUBTRACT)
        with Locations((54.795544402, 285.352296768)):
            Rectangle(MODEL_W_2, MODEL_H, mode=Mode.SUBTRACT)
        with Locations((36.795544402, 267.352296768)):
            Rectangle(MODEL_W_2, MODEL_H, mode=Mode.SUBTRACT)
        with Locations((45.795544402, 267.352296768)):
            Rectangle(MODEL_W_2, MODEL_H, mode=Mode.SUBTRACT)
        with Locations((54.795544402, 267.352296768)):
            Rectangle(MODEL_W_2, MODEL_H, mode=Mode.SUBTRACT)
        with Locations((45.795544402, 294.352296768)):
            Rectangle(MODEL_W_2, MODEL_H, mode=Mode.SUBTRACT)
        with Locations((45.795544402, 258.352296768)):
            Rectangle(MODEL_W_2, MODEL_H, mode=Mode.SUBTRACT)
    extrude(amount=SALIENTE_EXTRUIR1_DEPTH)


solid = part.part
